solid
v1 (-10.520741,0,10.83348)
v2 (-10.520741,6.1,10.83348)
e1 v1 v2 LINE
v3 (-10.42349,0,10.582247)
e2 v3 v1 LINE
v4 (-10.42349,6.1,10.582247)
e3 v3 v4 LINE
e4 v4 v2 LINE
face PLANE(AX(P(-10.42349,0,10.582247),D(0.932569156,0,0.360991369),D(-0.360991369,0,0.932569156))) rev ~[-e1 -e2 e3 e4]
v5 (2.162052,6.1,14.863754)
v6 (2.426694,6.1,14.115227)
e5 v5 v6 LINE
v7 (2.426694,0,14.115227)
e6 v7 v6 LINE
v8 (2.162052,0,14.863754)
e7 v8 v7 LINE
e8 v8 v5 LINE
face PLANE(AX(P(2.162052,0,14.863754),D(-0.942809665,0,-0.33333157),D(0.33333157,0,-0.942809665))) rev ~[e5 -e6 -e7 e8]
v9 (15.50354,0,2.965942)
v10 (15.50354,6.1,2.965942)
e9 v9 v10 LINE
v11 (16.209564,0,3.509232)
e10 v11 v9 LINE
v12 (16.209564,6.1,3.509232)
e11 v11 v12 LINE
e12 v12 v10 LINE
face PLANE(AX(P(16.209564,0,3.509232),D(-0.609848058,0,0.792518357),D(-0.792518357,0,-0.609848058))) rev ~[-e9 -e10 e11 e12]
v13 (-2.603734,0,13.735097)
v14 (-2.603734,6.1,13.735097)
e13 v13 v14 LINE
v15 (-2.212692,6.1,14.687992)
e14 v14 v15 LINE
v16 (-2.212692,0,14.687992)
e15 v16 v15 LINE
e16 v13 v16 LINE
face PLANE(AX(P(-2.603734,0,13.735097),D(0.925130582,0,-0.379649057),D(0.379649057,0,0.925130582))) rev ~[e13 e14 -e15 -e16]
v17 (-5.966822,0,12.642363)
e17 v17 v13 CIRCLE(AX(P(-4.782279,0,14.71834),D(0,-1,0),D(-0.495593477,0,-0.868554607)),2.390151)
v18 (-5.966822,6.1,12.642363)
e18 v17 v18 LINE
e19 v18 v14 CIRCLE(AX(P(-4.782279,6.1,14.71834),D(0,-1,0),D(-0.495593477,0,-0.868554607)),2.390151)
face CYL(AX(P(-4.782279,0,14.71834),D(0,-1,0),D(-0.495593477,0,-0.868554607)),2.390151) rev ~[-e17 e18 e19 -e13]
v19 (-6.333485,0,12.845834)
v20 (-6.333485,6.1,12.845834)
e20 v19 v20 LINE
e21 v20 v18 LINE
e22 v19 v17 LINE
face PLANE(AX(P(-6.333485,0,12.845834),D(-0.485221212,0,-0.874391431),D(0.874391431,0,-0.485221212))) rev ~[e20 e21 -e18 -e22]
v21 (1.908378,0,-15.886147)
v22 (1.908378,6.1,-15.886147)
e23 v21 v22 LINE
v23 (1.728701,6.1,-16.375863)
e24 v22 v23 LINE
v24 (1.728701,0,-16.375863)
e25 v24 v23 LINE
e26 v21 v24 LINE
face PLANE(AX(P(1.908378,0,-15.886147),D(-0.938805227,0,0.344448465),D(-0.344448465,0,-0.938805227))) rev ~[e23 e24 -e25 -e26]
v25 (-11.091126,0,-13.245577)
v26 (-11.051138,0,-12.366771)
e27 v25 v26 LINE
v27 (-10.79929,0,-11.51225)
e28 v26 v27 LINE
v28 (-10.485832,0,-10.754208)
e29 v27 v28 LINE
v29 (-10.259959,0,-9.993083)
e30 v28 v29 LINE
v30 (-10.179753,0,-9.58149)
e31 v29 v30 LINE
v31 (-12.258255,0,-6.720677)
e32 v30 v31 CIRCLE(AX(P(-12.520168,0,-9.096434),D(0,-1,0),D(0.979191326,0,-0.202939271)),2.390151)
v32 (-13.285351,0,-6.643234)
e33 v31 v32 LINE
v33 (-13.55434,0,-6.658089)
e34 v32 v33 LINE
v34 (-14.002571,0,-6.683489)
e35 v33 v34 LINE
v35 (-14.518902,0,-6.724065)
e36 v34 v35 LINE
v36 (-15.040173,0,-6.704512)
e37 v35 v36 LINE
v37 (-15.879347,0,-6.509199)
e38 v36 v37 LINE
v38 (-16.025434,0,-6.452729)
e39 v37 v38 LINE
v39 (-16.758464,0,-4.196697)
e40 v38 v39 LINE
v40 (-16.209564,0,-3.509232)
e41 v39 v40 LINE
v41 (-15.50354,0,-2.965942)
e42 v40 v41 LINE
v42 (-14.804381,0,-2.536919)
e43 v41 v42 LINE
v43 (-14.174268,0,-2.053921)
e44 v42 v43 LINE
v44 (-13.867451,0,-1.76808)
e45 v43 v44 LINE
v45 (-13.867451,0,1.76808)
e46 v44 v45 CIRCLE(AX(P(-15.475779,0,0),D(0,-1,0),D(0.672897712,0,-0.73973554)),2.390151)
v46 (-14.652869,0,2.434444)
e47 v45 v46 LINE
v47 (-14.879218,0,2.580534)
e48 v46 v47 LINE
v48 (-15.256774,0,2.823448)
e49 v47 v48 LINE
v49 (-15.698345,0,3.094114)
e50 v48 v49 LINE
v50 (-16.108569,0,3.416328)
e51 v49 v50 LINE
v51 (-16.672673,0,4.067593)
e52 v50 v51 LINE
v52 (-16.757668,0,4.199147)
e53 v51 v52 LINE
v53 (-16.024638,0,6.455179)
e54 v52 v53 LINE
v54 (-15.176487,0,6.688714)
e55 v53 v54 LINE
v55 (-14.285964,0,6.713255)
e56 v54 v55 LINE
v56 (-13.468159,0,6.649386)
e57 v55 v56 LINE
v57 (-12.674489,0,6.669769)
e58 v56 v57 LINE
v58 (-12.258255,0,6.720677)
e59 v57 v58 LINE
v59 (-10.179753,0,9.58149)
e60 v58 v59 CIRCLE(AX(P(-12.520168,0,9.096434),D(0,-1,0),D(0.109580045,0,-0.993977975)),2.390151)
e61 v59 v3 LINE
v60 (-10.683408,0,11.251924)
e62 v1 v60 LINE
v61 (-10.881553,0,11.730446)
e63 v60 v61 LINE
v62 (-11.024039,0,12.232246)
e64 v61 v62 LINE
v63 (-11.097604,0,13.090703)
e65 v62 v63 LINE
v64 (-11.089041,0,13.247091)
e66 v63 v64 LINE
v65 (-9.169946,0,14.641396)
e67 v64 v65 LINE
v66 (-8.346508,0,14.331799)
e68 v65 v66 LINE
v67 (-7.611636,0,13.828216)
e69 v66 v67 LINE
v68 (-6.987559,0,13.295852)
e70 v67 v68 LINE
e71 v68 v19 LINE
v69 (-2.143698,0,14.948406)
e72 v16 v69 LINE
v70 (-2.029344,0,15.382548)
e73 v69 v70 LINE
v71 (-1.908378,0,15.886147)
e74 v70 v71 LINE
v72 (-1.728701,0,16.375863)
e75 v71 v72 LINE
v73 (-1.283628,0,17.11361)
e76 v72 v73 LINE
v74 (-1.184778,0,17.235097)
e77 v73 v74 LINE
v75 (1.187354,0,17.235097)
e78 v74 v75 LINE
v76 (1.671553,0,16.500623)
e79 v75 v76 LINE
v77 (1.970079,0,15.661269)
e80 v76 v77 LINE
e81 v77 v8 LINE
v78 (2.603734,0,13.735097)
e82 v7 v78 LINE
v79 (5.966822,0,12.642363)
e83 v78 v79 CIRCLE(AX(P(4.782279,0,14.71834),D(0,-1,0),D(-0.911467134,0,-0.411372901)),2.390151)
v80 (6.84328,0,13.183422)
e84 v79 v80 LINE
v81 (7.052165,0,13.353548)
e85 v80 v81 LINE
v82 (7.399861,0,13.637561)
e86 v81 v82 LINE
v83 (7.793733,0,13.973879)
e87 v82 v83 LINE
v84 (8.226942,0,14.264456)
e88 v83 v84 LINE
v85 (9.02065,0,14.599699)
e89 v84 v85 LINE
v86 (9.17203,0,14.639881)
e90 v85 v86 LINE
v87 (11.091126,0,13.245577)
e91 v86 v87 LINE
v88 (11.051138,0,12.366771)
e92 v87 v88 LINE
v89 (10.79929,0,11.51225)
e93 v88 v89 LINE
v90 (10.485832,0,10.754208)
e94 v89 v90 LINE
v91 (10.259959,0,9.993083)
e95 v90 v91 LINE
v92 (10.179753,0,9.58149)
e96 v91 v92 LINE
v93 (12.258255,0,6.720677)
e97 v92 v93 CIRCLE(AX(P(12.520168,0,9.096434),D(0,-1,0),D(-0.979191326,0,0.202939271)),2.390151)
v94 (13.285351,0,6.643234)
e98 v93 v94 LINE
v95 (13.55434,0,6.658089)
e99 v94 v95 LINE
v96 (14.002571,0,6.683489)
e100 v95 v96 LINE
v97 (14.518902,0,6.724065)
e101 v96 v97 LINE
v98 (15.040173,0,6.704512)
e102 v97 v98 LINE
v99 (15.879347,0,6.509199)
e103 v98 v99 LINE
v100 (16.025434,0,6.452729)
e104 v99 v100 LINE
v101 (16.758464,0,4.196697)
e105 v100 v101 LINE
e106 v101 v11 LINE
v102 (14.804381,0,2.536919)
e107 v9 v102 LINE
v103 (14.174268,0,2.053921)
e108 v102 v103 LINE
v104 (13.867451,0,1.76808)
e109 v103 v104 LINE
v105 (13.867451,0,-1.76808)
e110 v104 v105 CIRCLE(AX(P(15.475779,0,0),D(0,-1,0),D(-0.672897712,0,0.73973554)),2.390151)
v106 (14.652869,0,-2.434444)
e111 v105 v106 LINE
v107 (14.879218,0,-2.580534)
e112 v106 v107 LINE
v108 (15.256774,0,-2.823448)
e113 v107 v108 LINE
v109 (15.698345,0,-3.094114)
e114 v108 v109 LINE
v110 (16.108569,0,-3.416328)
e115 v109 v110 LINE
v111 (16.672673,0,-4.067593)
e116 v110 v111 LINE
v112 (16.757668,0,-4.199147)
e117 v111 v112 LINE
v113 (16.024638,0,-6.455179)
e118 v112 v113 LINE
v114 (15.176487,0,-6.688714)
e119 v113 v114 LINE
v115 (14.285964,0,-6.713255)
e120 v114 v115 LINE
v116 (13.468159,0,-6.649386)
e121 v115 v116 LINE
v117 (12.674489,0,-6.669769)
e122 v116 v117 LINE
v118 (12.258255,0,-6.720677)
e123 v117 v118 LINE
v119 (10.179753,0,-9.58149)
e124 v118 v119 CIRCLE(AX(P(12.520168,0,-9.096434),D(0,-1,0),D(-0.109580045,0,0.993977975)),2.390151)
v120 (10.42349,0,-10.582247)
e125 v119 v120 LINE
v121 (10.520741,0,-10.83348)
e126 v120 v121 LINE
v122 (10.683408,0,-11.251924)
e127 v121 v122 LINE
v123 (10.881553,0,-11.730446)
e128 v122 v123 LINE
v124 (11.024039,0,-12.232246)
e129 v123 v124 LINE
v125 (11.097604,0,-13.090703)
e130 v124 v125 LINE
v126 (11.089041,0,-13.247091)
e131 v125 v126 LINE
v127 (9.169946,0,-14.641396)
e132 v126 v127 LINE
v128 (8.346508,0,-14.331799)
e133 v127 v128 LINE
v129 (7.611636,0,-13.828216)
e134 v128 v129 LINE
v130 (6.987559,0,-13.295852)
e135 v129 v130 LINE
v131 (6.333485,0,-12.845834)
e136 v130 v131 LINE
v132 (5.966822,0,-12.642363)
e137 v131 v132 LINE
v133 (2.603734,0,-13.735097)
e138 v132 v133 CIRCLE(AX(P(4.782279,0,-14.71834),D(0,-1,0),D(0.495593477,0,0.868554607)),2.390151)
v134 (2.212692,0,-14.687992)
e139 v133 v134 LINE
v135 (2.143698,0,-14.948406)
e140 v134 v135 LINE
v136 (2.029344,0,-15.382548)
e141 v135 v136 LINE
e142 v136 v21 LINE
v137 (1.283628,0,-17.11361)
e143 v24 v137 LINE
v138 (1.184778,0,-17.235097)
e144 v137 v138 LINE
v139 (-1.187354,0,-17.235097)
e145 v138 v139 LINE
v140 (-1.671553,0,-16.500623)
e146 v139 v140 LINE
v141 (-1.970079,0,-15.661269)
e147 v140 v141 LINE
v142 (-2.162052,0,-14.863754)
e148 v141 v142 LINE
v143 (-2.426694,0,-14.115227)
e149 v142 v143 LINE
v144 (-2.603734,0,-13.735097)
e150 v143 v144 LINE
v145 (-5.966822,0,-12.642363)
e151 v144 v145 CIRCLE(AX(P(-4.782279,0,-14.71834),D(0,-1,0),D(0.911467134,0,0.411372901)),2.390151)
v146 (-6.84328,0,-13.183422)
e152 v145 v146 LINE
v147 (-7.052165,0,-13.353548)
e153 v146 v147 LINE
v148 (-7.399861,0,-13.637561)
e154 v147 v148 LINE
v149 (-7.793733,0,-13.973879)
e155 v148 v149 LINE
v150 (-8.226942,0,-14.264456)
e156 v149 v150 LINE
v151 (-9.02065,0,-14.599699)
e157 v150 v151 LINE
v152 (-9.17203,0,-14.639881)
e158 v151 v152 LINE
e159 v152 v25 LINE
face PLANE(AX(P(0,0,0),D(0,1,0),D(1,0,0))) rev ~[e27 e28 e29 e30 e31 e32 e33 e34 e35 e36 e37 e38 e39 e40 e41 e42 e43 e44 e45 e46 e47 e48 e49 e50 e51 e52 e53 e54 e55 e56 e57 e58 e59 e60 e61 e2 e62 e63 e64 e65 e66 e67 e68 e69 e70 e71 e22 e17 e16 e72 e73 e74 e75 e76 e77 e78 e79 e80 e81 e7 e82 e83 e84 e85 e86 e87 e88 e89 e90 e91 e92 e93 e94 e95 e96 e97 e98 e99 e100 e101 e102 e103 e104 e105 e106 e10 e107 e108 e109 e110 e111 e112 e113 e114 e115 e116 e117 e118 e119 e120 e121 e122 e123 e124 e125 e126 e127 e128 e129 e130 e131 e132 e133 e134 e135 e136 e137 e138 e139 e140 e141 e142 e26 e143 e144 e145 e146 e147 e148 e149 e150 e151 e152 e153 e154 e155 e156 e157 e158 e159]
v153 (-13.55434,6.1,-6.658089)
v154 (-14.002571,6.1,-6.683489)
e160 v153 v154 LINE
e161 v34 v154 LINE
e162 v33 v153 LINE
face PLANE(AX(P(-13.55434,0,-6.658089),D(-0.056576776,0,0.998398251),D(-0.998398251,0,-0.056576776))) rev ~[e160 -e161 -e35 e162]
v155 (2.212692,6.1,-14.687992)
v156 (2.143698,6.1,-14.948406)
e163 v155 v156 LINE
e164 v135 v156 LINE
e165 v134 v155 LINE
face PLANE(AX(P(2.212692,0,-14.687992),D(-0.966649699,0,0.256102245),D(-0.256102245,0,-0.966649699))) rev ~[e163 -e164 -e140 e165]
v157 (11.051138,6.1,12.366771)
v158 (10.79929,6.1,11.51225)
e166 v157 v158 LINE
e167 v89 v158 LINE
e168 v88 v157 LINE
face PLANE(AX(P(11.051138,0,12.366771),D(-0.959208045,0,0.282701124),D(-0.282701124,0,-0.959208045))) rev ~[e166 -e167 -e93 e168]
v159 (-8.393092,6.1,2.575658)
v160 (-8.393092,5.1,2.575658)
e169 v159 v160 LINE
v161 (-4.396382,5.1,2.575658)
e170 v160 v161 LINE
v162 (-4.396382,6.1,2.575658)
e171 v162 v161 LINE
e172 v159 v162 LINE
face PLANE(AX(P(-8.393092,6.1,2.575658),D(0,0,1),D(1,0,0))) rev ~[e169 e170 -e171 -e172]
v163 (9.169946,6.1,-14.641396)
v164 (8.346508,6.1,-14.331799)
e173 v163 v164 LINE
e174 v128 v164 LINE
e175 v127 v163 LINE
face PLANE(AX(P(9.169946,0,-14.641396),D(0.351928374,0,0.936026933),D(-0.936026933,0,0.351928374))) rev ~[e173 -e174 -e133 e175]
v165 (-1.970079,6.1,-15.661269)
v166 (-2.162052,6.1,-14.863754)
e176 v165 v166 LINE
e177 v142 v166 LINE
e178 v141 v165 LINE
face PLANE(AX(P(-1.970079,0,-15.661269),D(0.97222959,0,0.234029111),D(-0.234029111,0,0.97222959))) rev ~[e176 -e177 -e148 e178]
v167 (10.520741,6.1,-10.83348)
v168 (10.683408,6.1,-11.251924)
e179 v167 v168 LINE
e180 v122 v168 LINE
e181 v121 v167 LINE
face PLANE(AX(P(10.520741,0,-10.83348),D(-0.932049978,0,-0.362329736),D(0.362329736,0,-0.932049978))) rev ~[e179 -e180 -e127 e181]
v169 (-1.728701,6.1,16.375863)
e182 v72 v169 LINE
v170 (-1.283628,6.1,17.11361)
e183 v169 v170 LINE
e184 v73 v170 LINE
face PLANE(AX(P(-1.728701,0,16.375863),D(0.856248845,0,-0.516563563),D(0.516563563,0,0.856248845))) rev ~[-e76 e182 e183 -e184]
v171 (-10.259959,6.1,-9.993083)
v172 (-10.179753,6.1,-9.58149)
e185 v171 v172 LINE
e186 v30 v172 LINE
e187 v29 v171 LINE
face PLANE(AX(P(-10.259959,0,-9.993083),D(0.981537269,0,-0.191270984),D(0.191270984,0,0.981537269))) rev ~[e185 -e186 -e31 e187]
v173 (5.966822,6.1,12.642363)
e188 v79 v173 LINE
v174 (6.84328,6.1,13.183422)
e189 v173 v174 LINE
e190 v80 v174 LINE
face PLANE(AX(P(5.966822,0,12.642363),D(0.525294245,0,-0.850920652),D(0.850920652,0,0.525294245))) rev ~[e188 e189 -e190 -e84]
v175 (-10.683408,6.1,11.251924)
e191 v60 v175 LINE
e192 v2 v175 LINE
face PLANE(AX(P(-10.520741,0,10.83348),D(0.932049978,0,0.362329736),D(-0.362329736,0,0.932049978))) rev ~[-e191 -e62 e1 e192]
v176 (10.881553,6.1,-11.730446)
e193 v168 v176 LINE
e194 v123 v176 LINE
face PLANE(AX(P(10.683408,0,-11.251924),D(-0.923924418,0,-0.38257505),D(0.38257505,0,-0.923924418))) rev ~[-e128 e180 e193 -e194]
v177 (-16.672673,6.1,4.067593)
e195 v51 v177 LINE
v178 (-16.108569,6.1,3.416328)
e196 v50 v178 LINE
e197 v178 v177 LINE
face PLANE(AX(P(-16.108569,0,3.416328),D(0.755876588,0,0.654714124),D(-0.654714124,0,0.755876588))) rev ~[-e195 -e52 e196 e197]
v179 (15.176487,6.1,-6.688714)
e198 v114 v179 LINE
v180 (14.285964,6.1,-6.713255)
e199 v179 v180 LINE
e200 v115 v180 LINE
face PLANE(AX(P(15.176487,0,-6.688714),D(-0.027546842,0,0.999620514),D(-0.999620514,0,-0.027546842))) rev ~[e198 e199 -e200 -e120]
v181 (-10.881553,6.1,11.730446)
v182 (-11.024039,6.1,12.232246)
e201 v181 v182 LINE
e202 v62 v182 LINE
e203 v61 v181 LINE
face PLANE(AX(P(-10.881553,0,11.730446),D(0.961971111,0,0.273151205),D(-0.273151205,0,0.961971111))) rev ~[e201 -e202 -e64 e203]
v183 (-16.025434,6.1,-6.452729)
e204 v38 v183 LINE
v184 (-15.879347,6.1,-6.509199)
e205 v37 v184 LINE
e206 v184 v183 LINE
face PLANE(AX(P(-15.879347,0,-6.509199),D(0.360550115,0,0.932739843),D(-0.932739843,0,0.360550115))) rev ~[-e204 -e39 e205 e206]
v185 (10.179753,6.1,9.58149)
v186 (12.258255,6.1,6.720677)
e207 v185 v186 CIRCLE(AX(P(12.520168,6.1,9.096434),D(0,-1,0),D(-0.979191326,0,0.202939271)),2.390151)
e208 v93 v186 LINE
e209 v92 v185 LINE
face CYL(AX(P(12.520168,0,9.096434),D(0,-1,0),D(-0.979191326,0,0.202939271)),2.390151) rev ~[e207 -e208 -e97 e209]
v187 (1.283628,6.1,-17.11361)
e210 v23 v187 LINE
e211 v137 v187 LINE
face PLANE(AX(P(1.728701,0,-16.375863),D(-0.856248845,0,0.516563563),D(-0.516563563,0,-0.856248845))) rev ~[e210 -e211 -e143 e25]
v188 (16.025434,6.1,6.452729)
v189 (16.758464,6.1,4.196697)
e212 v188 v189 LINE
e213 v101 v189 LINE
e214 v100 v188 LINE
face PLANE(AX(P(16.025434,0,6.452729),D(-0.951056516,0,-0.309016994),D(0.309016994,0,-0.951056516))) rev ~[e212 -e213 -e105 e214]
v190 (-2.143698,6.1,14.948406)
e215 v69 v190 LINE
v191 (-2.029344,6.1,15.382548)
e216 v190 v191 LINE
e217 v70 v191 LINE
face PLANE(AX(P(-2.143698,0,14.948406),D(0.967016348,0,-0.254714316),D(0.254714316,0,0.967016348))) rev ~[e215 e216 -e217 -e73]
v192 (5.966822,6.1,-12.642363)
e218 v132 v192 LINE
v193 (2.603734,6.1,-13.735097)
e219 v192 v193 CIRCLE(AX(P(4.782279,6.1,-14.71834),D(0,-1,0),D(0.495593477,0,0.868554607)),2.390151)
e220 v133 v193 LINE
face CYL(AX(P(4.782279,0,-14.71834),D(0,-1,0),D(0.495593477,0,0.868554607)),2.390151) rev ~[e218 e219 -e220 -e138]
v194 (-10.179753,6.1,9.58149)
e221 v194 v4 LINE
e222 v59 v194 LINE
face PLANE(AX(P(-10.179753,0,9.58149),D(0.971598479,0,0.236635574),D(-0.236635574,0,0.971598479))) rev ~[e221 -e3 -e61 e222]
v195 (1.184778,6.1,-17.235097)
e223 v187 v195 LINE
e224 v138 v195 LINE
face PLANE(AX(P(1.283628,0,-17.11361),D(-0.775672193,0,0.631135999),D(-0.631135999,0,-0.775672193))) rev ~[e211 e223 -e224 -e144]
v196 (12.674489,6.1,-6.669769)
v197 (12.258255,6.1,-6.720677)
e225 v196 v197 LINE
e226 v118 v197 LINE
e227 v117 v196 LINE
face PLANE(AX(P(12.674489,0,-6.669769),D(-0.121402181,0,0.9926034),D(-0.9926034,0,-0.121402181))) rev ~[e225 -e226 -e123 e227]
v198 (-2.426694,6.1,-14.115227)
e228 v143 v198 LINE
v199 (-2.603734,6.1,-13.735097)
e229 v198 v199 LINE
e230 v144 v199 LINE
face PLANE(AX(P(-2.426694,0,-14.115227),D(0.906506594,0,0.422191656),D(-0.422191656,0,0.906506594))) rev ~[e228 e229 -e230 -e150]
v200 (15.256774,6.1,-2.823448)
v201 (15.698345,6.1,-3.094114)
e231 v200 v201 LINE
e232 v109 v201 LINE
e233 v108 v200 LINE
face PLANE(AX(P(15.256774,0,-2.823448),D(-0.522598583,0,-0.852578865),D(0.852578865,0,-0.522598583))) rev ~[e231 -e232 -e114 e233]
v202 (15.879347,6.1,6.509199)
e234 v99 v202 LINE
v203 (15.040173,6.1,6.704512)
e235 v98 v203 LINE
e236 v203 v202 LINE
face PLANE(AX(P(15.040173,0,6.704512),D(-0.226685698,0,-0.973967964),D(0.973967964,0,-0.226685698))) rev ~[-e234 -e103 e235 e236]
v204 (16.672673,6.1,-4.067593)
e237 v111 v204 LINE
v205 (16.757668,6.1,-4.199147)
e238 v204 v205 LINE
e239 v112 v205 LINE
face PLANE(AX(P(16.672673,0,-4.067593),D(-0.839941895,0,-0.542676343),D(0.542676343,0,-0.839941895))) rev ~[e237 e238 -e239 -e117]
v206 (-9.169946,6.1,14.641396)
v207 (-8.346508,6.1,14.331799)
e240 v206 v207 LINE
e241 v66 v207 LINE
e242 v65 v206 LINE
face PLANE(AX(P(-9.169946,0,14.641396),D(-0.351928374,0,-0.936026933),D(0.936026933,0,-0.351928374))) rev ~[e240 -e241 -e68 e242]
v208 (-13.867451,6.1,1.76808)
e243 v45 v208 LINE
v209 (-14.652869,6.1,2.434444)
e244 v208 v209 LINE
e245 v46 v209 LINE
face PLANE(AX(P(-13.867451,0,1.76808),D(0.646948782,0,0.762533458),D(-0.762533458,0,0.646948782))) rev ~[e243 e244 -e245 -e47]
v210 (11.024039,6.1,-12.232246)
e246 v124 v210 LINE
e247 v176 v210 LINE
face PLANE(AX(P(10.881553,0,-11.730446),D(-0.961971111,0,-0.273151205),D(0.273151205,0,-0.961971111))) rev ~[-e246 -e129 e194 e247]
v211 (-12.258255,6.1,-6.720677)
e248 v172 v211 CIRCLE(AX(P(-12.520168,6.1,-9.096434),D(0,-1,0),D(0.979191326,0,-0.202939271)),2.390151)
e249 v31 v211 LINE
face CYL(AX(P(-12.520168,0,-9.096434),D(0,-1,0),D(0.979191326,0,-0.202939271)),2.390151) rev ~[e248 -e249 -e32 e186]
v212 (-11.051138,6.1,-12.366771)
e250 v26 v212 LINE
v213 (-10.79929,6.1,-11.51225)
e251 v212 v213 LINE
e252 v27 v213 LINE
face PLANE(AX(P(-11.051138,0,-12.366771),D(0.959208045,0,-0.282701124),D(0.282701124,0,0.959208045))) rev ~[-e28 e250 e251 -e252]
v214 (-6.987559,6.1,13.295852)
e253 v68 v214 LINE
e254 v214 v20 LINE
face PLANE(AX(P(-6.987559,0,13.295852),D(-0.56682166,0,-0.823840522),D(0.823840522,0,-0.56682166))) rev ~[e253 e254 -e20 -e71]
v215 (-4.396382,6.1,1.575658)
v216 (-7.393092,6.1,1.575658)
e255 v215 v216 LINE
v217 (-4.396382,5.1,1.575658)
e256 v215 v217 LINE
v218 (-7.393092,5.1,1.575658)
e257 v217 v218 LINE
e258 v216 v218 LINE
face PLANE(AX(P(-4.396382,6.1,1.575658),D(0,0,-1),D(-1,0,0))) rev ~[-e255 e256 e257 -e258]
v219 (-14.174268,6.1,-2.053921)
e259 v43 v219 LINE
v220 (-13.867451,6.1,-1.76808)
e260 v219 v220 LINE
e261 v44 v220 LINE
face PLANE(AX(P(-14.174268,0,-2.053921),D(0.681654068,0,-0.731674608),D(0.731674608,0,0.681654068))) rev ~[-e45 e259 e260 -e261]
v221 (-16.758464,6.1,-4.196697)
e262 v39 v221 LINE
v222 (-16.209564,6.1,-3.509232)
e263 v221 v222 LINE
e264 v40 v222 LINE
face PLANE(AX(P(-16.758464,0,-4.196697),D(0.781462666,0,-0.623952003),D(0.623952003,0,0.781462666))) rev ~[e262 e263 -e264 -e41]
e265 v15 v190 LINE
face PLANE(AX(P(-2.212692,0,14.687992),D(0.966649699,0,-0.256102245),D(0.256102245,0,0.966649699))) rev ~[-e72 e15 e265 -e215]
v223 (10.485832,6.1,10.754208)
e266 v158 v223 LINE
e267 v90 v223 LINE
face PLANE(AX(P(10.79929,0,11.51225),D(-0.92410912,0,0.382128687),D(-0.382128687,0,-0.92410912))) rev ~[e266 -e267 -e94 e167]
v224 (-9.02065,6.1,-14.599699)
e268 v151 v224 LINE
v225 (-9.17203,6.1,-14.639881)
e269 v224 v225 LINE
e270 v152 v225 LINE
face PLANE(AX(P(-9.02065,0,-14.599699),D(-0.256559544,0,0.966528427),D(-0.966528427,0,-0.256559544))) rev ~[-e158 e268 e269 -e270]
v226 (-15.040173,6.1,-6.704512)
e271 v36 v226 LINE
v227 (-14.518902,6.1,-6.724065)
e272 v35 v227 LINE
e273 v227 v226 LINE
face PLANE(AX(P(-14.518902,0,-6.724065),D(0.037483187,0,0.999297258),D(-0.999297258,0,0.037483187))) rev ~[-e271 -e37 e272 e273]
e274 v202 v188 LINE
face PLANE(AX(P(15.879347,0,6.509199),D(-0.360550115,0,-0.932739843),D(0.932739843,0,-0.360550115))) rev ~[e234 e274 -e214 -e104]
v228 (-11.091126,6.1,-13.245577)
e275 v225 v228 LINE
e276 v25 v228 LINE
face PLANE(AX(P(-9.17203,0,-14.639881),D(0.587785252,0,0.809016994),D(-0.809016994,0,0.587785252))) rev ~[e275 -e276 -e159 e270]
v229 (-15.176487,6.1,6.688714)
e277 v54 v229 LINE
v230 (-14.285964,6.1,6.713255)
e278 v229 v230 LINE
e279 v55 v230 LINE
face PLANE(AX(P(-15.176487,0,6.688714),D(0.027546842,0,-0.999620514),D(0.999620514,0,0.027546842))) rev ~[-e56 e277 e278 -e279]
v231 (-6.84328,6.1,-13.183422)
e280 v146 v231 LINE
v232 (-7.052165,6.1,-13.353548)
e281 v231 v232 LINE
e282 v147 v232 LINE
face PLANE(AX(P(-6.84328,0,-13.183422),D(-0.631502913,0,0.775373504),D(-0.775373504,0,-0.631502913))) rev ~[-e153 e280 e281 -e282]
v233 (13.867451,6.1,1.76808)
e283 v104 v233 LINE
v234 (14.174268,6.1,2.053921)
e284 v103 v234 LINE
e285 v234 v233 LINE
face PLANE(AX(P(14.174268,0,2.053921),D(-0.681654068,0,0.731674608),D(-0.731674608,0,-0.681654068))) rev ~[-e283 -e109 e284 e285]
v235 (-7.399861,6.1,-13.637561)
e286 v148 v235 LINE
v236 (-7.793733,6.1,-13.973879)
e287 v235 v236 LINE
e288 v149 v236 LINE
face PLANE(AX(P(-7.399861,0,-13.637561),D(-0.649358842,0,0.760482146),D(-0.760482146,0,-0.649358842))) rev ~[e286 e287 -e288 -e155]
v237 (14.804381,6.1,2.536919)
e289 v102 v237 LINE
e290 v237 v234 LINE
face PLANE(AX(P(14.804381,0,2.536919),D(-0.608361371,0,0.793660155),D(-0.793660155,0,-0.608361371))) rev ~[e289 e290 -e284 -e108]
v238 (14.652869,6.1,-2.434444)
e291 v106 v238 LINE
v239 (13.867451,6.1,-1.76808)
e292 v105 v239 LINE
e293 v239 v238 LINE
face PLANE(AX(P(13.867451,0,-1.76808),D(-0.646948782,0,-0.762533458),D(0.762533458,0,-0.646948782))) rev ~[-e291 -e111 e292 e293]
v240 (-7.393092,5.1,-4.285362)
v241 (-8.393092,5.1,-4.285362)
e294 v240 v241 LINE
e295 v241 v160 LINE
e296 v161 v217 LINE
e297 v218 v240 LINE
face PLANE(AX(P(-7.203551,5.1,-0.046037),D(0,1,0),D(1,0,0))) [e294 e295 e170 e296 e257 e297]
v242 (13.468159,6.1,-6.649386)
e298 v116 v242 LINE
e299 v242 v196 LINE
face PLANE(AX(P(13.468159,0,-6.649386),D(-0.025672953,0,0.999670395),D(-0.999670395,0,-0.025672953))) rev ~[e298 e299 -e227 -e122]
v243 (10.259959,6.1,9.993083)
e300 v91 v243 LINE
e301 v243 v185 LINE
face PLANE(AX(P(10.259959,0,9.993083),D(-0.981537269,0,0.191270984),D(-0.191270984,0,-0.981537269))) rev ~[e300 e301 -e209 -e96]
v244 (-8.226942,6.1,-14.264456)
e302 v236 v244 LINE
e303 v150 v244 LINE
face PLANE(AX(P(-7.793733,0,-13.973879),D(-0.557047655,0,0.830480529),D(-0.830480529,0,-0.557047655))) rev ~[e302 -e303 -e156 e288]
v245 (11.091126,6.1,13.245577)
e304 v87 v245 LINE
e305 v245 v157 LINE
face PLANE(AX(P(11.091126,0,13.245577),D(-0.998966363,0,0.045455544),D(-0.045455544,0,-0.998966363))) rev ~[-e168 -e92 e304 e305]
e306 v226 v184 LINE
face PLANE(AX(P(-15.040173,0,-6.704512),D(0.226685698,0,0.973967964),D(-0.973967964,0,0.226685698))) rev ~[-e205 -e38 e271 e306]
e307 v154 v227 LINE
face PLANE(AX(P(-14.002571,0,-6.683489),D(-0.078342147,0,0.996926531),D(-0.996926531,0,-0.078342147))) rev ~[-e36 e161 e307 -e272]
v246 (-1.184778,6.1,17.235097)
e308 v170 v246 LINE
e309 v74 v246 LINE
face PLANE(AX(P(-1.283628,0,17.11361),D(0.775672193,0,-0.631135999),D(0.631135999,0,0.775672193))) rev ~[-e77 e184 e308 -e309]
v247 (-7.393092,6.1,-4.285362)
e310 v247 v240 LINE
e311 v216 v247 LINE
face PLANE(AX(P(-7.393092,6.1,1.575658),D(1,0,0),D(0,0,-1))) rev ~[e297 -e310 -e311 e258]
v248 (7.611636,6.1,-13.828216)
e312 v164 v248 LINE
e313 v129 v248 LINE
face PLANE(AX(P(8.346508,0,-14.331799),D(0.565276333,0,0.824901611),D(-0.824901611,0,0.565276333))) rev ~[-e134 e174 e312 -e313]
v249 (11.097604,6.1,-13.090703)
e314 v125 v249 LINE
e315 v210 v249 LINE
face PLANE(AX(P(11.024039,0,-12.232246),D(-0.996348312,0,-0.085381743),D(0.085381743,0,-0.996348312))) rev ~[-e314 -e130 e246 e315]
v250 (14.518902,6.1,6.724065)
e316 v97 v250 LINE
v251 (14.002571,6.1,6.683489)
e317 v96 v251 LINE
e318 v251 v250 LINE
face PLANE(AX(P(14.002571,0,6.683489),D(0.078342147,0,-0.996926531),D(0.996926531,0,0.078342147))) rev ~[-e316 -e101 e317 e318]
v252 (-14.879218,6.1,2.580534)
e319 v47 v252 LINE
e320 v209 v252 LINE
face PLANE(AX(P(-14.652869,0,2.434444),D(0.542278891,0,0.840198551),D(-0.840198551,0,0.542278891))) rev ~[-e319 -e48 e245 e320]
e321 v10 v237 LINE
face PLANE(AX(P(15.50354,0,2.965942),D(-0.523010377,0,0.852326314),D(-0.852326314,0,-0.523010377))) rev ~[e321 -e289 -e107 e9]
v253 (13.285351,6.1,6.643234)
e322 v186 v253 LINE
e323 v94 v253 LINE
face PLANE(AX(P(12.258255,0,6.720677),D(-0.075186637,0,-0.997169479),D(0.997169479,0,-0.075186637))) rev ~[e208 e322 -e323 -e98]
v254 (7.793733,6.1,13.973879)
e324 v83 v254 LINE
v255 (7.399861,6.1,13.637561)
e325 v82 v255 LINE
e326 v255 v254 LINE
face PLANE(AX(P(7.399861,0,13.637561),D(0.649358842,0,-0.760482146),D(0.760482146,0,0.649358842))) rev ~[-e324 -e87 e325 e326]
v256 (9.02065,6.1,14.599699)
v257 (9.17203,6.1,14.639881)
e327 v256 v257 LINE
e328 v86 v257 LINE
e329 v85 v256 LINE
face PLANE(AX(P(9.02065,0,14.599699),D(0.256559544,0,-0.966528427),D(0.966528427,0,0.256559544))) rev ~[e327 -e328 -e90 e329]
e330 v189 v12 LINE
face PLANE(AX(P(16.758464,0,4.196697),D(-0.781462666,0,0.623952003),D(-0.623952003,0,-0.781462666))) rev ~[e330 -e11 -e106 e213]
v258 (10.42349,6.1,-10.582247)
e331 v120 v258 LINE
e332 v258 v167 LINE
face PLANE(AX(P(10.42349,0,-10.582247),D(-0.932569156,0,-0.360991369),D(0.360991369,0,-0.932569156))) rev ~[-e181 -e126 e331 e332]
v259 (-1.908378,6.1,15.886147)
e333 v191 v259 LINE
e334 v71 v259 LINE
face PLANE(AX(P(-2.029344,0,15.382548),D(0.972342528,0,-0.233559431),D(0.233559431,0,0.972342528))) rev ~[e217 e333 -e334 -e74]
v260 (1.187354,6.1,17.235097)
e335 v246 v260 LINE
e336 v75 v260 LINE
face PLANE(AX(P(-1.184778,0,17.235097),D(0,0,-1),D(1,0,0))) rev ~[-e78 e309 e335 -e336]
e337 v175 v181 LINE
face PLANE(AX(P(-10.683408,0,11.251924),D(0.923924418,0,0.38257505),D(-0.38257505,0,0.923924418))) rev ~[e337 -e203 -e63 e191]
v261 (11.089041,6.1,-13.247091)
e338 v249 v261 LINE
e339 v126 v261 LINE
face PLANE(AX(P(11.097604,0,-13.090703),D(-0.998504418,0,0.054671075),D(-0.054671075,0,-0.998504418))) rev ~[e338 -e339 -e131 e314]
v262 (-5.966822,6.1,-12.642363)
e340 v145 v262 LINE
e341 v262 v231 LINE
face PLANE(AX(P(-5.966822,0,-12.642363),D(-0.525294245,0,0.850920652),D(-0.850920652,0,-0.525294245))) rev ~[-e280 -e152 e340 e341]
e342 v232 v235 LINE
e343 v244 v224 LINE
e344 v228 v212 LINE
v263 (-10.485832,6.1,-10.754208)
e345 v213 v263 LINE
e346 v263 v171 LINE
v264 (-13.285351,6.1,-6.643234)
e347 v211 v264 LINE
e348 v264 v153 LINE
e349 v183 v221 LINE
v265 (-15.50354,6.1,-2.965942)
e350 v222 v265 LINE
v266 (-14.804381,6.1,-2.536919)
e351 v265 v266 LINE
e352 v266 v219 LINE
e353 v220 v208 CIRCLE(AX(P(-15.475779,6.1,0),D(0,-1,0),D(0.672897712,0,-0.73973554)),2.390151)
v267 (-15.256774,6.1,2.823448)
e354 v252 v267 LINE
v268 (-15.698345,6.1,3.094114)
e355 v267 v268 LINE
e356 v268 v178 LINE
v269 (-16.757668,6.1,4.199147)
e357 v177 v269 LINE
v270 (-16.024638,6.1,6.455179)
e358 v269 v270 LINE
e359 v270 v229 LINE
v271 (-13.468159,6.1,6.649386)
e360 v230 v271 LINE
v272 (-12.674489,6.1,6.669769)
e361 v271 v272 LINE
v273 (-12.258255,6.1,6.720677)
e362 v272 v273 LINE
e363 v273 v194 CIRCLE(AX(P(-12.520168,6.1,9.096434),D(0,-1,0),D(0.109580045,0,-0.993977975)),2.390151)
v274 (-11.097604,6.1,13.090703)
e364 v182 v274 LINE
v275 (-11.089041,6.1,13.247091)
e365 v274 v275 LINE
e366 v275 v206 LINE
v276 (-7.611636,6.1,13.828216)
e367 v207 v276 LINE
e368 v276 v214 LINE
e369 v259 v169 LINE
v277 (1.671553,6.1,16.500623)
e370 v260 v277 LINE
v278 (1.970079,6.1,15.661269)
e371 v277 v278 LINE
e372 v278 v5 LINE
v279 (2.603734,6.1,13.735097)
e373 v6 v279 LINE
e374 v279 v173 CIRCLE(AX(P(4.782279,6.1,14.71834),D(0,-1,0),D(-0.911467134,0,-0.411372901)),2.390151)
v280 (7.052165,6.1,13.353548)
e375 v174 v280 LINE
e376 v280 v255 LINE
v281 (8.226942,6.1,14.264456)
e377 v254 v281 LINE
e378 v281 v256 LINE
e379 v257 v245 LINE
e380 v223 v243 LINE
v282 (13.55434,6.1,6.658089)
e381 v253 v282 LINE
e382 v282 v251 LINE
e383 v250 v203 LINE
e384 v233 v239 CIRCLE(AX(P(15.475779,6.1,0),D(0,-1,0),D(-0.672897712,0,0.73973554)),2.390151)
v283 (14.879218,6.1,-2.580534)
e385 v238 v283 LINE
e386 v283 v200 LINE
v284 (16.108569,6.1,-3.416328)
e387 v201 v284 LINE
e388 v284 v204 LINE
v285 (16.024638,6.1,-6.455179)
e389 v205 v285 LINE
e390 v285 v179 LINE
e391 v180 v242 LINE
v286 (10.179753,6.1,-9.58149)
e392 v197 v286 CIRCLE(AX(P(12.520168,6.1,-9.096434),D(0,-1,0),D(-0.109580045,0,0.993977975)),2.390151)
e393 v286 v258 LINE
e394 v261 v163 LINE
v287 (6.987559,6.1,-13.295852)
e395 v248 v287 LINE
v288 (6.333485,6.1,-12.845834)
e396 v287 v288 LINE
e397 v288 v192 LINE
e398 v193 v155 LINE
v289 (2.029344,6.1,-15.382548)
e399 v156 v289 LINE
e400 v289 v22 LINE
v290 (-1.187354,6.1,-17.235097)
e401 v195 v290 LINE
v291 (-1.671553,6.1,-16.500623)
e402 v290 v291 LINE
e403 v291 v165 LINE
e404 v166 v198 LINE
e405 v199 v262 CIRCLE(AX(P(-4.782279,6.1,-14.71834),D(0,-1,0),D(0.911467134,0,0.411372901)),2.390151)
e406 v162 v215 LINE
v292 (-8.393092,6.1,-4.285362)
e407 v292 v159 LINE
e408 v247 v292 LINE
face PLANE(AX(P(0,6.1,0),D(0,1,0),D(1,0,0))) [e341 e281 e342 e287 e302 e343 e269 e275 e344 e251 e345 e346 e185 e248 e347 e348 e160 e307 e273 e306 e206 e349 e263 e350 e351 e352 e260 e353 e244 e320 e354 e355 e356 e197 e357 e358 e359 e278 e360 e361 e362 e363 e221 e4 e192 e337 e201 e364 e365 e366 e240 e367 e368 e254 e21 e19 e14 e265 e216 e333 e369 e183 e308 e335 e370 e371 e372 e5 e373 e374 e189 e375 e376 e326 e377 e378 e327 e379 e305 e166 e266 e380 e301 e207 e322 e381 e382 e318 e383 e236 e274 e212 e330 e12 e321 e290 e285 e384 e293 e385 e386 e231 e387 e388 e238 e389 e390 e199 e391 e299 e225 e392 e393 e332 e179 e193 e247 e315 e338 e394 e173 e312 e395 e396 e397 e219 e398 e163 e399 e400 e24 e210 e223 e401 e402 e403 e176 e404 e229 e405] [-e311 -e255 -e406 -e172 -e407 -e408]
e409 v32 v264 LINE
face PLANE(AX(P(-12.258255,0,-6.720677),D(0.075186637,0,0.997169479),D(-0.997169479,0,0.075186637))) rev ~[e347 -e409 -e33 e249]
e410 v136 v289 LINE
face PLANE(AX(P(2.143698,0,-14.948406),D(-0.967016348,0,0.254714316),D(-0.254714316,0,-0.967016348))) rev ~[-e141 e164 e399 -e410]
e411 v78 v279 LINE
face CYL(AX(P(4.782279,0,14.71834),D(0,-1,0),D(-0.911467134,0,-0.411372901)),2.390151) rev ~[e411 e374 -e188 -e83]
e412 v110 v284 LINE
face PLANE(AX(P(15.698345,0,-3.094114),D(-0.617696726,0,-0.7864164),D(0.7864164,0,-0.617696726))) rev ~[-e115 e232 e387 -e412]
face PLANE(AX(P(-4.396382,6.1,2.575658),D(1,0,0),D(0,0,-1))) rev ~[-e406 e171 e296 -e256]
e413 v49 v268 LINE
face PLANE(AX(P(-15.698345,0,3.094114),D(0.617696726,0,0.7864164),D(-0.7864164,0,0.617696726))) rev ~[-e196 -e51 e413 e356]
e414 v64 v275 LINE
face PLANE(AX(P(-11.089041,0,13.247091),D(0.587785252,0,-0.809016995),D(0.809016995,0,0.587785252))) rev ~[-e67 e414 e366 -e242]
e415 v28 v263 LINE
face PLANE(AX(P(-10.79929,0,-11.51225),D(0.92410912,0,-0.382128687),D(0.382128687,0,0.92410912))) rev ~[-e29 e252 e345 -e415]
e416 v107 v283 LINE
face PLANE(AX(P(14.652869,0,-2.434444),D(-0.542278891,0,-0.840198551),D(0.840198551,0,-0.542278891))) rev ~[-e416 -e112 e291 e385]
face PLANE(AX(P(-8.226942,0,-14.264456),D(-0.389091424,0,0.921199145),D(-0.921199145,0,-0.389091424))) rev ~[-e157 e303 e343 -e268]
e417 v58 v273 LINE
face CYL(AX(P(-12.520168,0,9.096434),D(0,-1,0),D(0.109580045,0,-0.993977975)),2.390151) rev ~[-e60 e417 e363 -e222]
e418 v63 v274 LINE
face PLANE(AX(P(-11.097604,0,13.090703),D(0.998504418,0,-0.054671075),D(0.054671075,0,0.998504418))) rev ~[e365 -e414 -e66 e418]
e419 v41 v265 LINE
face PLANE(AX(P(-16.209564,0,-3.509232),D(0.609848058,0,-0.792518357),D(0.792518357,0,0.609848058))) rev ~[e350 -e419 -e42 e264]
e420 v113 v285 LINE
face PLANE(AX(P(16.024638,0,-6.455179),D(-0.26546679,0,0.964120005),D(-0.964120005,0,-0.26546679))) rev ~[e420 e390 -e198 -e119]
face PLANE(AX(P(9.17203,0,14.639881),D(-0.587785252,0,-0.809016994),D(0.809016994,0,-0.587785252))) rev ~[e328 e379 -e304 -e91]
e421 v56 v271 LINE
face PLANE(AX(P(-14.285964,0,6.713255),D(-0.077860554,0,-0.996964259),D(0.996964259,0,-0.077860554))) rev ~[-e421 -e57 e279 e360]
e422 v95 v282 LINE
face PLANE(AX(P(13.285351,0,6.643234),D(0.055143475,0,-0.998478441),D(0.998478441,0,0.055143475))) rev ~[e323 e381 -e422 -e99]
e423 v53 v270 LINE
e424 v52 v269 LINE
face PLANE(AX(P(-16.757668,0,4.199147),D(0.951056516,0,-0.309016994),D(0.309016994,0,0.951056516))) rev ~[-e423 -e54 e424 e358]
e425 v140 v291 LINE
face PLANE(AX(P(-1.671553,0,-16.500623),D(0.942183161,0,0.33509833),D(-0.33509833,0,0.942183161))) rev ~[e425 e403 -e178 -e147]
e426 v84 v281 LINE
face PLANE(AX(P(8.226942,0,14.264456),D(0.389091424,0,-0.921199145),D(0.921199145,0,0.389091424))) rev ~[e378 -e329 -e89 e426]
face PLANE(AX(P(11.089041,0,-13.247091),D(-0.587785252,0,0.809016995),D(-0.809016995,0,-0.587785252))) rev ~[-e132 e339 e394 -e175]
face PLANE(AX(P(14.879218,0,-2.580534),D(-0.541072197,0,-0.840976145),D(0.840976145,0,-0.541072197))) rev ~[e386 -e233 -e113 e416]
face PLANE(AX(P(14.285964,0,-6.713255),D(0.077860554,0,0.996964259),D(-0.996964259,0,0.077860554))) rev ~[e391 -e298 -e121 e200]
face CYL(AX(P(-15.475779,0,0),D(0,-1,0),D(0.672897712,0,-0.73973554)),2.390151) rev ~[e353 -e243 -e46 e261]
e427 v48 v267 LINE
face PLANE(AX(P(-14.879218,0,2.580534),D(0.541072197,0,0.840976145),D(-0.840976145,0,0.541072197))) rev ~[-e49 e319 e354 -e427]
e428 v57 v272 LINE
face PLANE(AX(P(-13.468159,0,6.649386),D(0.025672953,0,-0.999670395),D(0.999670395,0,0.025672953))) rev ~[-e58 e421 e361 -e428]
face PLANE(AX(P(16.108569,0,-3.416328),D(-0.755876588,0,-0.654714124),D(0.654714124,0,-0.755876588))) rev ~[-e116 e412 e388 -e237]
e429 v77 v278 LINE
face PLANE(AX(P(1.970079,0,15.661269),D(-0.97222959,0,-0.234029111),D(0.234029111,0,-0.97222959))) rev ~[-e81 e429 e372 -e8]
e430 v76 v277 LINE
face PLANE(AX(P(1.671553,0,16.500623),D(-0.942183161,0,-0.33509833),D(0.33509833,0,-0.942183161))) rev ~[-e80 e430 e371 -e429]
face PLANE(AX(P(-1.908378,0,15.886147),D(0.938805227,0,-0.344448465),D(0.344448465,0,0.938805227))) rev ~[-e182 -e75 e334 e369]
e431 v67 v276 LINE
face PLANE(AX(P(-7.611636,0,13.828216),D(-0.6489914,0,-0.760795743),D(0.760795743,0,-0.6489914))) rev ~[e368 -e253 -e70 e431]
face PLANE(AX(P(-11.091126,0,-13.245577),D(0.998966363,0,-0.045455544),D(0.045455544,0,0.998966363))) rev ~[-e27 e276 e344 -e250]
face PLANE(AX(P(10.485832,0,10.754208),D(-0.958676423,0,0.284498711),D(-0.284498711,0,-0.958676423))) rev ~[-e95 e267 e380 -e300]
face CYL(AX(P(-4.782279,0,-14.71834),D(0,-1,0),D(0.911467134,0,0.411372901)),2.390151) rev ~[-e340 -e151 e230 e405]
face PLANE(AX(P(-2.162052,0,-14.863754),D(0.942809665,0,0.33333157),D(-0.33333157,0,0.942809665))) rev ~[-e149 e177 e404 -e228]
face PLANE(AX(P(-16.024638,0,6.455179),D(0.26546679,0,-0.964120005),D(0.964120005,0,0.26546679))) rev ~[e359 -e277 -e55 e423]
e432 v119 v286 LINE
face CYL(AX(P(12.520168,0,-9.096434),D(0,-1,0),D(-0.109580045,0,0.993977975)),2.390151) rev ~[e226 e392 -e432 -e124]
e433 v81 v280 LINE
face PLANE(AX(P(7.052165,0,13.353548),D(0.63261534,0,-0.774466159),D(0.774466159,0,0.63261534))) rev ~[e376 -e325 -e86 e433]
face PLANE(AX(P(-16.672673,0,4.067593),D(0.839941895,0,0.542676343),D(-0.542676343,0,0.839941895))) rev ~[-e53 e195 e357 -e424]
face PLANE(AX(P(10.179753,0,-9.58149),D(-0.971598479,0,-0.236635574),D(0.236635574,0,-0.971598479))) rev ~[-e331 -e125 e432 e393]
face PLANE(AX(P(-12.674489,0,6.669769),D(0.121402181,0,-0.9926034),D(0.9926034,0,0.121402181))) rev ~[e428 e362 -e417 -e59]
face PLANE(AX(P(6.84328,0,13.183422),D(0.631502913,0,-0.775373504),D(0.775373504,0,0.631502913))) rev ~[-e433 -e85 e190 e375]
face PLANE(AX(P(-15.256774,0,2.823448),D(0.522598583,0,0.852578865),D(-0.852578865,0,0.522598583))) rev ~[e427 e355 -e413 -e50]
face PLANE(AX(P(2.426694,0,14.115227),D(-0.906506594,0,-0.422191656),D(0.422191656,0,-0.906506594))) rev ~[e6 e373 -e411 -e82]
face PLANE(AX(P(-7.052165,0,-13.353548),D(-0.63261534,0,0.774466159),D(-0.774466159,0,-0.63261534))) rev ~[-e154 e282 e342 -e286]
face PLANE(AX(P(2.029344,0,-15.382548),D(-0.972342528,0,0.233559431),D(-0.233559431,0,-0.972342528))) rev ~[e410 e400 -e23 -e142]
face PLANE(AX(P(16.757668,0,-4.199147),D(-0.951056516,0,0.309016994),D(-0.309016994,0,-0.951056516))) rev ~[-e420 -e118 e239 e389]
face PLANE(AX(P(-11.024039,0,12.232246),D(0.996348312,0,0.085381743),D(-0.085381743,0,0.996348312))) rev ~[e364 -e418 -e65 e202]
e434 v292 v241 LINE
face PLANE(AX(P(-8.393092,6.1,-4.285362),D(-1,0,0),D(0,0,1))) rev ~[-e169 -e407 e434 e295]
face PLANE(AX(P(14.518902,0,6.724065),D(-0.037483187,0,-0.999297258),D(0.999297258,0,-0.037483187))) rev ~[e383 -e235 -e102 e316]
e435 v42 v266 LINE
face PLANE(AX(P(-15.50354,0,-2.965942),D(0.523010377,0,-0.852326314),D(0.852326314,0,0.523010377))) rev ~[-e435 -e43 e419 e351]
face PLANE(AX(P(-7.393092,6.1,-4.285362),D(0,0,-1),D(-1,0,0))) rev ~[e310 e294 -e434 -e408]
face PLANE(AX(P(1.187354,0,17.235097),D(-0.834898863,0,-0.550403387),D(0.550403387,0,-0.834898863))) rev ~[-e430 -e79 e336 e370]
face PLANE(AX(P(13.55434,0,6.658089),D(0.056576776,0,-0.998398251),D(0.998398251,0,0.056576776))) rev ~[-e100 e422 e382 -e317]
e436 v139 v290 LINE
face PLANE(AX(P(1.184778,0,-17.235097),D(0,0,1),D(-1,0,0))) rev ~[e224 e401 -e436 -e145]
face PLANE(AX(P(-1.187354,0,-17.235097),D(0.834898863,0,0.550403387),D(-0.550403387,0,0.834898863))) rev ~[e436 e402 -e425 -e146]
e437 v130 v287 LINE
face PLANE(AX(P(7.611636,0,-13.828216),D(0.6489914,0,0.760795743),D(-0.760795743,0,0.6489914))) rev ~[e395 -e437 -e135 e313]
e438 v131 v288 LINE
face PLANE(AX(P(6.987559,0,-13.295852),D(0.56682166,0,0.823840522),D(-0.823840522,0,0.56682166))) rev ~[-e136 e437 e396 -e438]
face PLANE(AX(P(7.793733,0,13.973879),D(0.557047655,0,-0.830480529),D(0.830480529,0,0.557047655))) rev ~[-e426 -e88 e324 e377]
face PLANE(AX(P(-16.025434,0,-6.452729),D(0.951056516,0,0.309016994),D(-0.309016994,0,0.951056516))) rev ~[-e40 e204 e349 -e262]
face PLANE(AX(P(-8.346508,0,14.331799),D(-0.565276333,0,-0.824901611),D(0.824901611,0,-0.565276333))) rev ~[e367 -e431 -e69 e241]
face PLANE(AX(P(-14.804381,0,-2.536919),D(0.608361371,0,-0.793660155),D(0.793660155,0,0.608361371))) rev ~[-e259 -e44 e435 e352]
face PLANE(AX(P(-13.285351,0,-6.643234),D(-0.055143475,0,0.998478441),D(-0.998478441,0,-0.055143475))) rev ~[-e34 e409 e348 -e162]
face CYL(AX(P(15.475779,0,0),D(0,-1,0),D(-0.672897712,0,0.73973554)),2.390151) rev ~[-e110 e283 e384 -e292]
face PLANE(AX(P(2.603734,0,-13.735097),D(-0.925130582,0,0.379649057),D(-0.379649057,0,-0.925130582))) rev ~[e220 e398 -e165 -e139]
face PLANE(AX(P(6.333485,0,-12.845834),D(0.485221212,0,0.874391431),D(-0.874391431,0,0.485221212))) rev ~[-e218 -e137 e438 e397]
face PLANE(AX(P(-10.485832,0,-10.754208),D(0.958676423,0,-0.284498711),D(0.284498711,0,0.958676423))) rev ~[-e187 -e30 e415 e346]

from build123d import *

# Parameters (mm, degrees)
BOSS_EXTRUDE1_DEPTH = 6.1
CUT_EXTRUDE1_DEPTH  = 1


with BuildPart() as part:
    # Sketch1 → Boss-Extrude1 (new body)
    with BuildSketch(Plane(origin=(0, 0, 0), x_dir=(1, 0, 0), z_dir=(0, 1, 0))):
        with BuildLine():
            ThreePointArc((-2.603734293, 13.735096717), (-4.043681259, 12.445171239), (-5.966821997, 12.642363282))
            Line((-5.966821997, 12.642363282), (-6.843279813, 13.183422247))
            Line((-6.843279813, 13.183422247), (-7.052164592, 13.353548445))
            Line((-7.052164592, 13.353548445), (-7.399861002, 13.637560961))
            Line((-7.399861002, 13.637560961), (-7.793732744, 13.973879308))
            Line((-7.793732744, 13.973879308), (-8.226942264, 14.264456075))
            Line((-8.226942264, 14.264456075), (-9.020650473, 14.599698524))
            Line((-9.020650473, 14.599698524), (-9.172029908, 14.639881345))
            Line((-9.172029908, 14.639881345), (-11.091125587, 13.245576719))
            Line((-11.091125587, 13.245576719), (-11.051137643, 12.366770586))
            Line((-11.051137643, 12.366770586), (-10.799290258, 11.512249619))
            Line((-10.799290258, 11.512249619), (-10.485832024, 10.75420757))
            Line((-10.485832024, 10.75420757), (-10.259959226, 9.993083115))
            Line((-10.259959226, 9.993083115), (-10.179752581, 9.581490045))
            ThreePointArc((-10.179752581, 9.581490045), (-10.586494975, 7.691538822), (-12.258255089, 6.720676771))
            Line((-12.258255089, 6.720676771), (-13.285350838, 6.643233691))
            Line((-13.285350838, 6.643233691), (-13.554339843, 6.658089283))
            Line((-13.554339843, 6.658089283), (-14.002570517, 6.683489414))
            Line((-14.002570517, 6.683489414), (-14.518902414, 6.72406467))
            Line((-14.518902414, 6.72406467), (-15.040173016, 6.704512046))
            Line((-15.040173016, 6.704512046), (-15.879347013, 6.509198904))
            Line((-15.879347013, 6.509198904), (-16.025434419, 6.452728891))
            Line((-16.025434419, 6.452728891), (-16.75846374, 4.196696614))
            Line((-16.75846374, 4.196696614), (-16.20956353, 3.509231842))
            Line((-16.20956353, 3.509231842), (-15.503539893, 2.965942036))
            Line((-15.503539893, 2.965942036), (-14.804380918, 2.536919263))
            Line((-14.804380918, 2.536919263), (-14.174268255, 2.053921344))
            Line((-14.174268255, 2.053921344), (-13.86745138, 1.768079839))
            ThreePointArc((-13.86745138, 1.768079839), (-13.085627432, 0), (-13.86745138, -1.768079839))
            Line((-13.86745138, -1.768079839), (-14.652869395, -2.434444341))
            Line((-14.652869395, -2.434444341), (-14.87921797, -2.580533684))
            Line((-14.87921797, -2.580533684), (-15.256774024, -2.823447927))
            Line((-15.256774024, -2.823447927), (-15.698344841, -3.094114129))
            Line((-15.698344841, -3.094114129), (-16.108568873, -3.416327706))
            Line((-16.108568873, -3.416327706), (-16.672672713, -4.067593457))
            Line((-16.672672713, -4.067593457), (-16.757667666, -4.19914668))
            Line((-16.757667666, -4.19914668), (-16.024638344, -6.455178957))
            Line((-16.024638344, -6.455178957), (-15.176487091, -6.688714191))
            Line((-15.176487091, -6.688714191), (-14.285964235, -6.713254596))
            Line((-14.285964235, -6.713254596), (-13.468159483, -6.649385976))
            Line((-13.468159483, -6.649385976), (-12.674488577, -6.66976857))
            Line((-12.674488577, -6.66976857), (-12.258255089, -6.720676771))
            ThreePointArc((-12.258255089, -6.720676771), (-10.586494975, -7.691538822), (-10.179752581, -9.581490045))
            Line((-10.179752581, -9.581490045), (-10.423489876, -10.582247377))
            Line((-10.423489876, -10.582247377), (-10.520740558, -10.833480493))
            Line((-10.520740558, -10.833480493), (-10.683408413, -11.251924125))
            Line((-10.683408413, -11.251924125), (-10.881553106, -11.730446496))
            Line((-10.881553106, -11.730446496), (-11.02403893, -12.232246392))
            Line((-11.02403893, -12.232246392), (-11.09760412, -13.09070337))
            Line((-11.09760412, -13.09070337), (-11.089041437, -13.247090943))
            Line((-11.089041437, -13.247090943), (-9.169945757, -14.641395569))
            Line((-9.169945757, -14.641395569), (-8.346508413, -14.331798745))
            Line((-8.346508413, -14.331798745), (-7.611635801, -13.828216148))
            Line((-7.611635801, -13.828216148), (-6.987558891, -13.295851776))
            Line((-6.987558891, -13.295851776), (-6.333485052, -12.845833588))
            Line((-6.333485052, -12.845833588), (-5.966821997, -12.642363282))
            ThreePointArc((-5.966821997, -12.642363282), (-4.043681259, -12.445171239), (-2.603734293, -13.735096717))
            Line((-2.603734293, -13.735096717), (-2.212691506, -14.687991594))
            Line((-2.212691506, -14.687991594), (-2.14369784, -14.94840597))
            Line((-2.14369784, -14.94840597), (-2.029343904, -15.382547746))
            Line((-2.029343904, -15.382547746), (-1.908377935, -15.886147005))
            Line((-1.908377935, -15.886147005), (-1.72870081, -16.375862714))
            Line((-1.72870081, -16.375862714), (-1.283627947, -17.113609532))
            Line((-1.283627947, -17.113609532), (-1.184778282, -17.235096718))
            Line((-1.184778282, -17.235096718), (1.187354434, -17.235096718))
            Line((1.187354434, -17.235096718), (1.671552791, -16.500623298))
            Line((1.671552791, -16.500623298), (1.970078799, -15.661269135))
            Line((1.970078799, -15.661269135), (2.162051698, -14.863754107))
            Line((2.162051698, -14.863754107), (2.426694495, -14.115226788))
            Line((2.426694495, -14.115226788), (2.603734293, -13.735096717))
            ThreePointArc((2.603734293, -13.735096717), (4.043681259, -12.445171239), (5.966821997, -12.642363282))
            Line((5.966821997, -12.642363282), (6.843279813, -13.183422247))
            Line((6.843279813, -13.183422247), (7.052164592, -13.353548445))
            Line((7.052164592, -13.353548445), (7.399861002, -13.637560961))
            Line((7.399861002, -13.637560961), (7.793732744, -13.973879308))
            Line((7.793732744, -13.973879308), (8.226942264, -14.264456075))
            Line((8.226942264, -14.264456075), (9.020650473, -14.599698524))
            Line((9.020650473, -14.599698524), (9.172029908, -14.639881345))
            Line((9.172029908, -14.639881345), (11.091125587, -13.245576719))
            Line((11.091125587, -13.245576719), (11.051137643, -12.366770586))
            Line((11.051137643, -12.366770586), (10.799290258, -11.512249619))
            Line((10.799290258, -11.512249619), (10.485832024, -10.75420757))
            Line((10.485832024, -10.75420757), (10.259959226, -9.993083115))
            Line((10.259959226, -9.993083115), (10.179752581, -9.581490045))
            ThreePointArc((10.179752581, -9.581490045), (10.586494975, -7.691538822), (12.258255089, -6.720676771))
            Line((12.258255089, -6.720676771), (13.285350838, -6.643233691))
            Line((13.285350838, -6.643233691), (13.554339843, -6.658089283))
            Line((13.554339843, -6.658089283), (14.002570517, -6.683489414))
            Line((14.002570517, -6.683489414), (14.518902414, -6.72406467))
            Line((14.518902414, -6.72406467), (15.040173016, -6.704512046))
            Line((15.040173016, -6.704512046), (15.879347013, -6.509198904))
            Line((15.879347013, -6.509198904), (16.025434419, -6.452728891))
            Line((16.025434419, -6.452728891), (16.75846374, -4.196696614))
            Line((16.75846374, -4.196696614), (16.20956353, -3.509231842))
            Line((16.20956353, -3.509231842), (15.503539893, -2.965942036))
            Line((15.503539893, -2.965942036), (14.804380918, -2.536919263))
            Line((14.804380918, -2.536919263), (14.174268255, -2.053921344))
            Line((14.174268255, -2.053921344), (13.86745138, -1.768079839))
            ThreePointArc((13.86745138, -1.768079839), (13.085627432, 0), (13.86745138, 1.768079839))
            Line((13.86745138, 1.768079839), (14.652869395, 2.434444341))
            Line((14.652869395, 2.434444341), (14.87921797, 2.580533684))
            Line((14.87921797, 2.580533684), (15.256774024, 2.823447927))
            Line((15.256774024, 2.823447927), (15.698344841, 3.094114129))
            Line((15.698344841, 3.094114129), (16.108568873, 3.416327706))
            Line((16.108568873, 3.416327706), (16.672672713, 4.067593457))
            Line((16.672672713, 4.067593457), (16.757667666, 4.19914668))
            Line((16.757667666, 4.19914668), (16.024638344, 6.455178957))
            Line((16.024638344, 6.455178957), (15.176487091, 6.688714191))
            Line((15.176487091, 6.688714191), (14.285964235, 6.713254596))
            Line((14.285964235, 6.713254596), (13.468159483, 6.649385976))
            Line((13.468159483, 6.649385976), (12.674488577, 6.66976857))
            Line((12.674488577, 6.66976857), (12.258255089, 6.720676771))
            ThreePointArc((12.258255089, 6.720676771), (10.586494975, 7.691538822), (10.179752581, 9.581490045))
            Line((10.179752581, 9.581490045), (10.423489876, 10.582247377))
            Line((10.423489876, 10.582247377), (10.520740558, 10.833480493))
            Line((10.520740558, 10.833480493), (10.683408413, 11.251924125))
            Line((10.683408413, 11.251924125), (10.881553106, 11.730446496))
            Line((10.881553106, 11.730446496), (11.02403893, 12.232246392))
            Line((11.02403893, 12.232246392), (11.09760412, 13.09070337))
            Line((11.09760412, 13.09070337), (11.089041437, 13.247090943))
            Line((11.089041437, 13.247090943), (9.169945757, 14.641395569))
            Line((9.169945757, 14.641395569), (8.346508413, 14.331798745))
            Line((8.346508413, 14.331798745), (7.611635801, 13.828216148))
            Line((7.611635801, 13.828216148), (6.987558891, 13.295851776))
            Line((6.987558891, 13.295851776), (6.333485052, 12.845833588))
            Line((6.333485052, 12.845833588), (5.966821997, 12.642363282))
            ThreePointArc((5.966821997, 12.642363282), (4.043681259, 12.445171239), (2.603734293, 13.735096717))
            Line((2.603734293, 13.735096717), (2.212691506, 14.687991594))
            Line((2.212691506, 14.687991594), (2.14369784, 14.94840597))
            Line((2.14369784, 14.94840597), (2.029343904, 15.382547746))
            Line((2.029343904, 15.382547746), (1.908377935, 15.886147005))
            Line((1.908377935, 15.886147005), (1.72870081, 16.375862714))
            Line((1.72870081, 16.375862714), (1.283627947, 17.113609532))
            Line((1.283627947, 17.113609532), (1.184778282, 17.235096718))
            Line((1.184778282, 17.235096718), (-1.187354434, 17.235096718))
            Line((-1.187354434, 17.235096718), (-1.671552791, 16.500623298))
            Line((-1.671552791, 16.500623298), (-1.970078799, 15.661269135))
            Line((-1.970078799, 15.661269135), (-2.162051698, 14.863754107))
            Line((-2.162051698, 14.863754107), (-2.426694495, 14.115226788))
            Line((-2.426694495, 14.115226788), (-2.603734293, 13.735096717))
        make_face()
    extrude(amount=BOSS_EXTRUDE1_DEPTH)

    # Sketch3 → Cut-Extrude1 (cut)
    with BuildSketch(Plane(origin=(0, 6.1, 0), x_dir=(1, 0, 0), z_dir=(0, 1, 0))):
        Polygon((-8.393092124, 4.285361852), (-8.393092124, -2.575657901), (-4.396381589, -2.575657901), (-4.396381589, -1.575657901), (-7.393092124, -1.575657901), (-7.393092124, 4.285361852), align=None)
    extrude(amount=-CUT_EXTRUDE1_DEPTH, mode=Mode.SUBTRACT)


solid = part.part
